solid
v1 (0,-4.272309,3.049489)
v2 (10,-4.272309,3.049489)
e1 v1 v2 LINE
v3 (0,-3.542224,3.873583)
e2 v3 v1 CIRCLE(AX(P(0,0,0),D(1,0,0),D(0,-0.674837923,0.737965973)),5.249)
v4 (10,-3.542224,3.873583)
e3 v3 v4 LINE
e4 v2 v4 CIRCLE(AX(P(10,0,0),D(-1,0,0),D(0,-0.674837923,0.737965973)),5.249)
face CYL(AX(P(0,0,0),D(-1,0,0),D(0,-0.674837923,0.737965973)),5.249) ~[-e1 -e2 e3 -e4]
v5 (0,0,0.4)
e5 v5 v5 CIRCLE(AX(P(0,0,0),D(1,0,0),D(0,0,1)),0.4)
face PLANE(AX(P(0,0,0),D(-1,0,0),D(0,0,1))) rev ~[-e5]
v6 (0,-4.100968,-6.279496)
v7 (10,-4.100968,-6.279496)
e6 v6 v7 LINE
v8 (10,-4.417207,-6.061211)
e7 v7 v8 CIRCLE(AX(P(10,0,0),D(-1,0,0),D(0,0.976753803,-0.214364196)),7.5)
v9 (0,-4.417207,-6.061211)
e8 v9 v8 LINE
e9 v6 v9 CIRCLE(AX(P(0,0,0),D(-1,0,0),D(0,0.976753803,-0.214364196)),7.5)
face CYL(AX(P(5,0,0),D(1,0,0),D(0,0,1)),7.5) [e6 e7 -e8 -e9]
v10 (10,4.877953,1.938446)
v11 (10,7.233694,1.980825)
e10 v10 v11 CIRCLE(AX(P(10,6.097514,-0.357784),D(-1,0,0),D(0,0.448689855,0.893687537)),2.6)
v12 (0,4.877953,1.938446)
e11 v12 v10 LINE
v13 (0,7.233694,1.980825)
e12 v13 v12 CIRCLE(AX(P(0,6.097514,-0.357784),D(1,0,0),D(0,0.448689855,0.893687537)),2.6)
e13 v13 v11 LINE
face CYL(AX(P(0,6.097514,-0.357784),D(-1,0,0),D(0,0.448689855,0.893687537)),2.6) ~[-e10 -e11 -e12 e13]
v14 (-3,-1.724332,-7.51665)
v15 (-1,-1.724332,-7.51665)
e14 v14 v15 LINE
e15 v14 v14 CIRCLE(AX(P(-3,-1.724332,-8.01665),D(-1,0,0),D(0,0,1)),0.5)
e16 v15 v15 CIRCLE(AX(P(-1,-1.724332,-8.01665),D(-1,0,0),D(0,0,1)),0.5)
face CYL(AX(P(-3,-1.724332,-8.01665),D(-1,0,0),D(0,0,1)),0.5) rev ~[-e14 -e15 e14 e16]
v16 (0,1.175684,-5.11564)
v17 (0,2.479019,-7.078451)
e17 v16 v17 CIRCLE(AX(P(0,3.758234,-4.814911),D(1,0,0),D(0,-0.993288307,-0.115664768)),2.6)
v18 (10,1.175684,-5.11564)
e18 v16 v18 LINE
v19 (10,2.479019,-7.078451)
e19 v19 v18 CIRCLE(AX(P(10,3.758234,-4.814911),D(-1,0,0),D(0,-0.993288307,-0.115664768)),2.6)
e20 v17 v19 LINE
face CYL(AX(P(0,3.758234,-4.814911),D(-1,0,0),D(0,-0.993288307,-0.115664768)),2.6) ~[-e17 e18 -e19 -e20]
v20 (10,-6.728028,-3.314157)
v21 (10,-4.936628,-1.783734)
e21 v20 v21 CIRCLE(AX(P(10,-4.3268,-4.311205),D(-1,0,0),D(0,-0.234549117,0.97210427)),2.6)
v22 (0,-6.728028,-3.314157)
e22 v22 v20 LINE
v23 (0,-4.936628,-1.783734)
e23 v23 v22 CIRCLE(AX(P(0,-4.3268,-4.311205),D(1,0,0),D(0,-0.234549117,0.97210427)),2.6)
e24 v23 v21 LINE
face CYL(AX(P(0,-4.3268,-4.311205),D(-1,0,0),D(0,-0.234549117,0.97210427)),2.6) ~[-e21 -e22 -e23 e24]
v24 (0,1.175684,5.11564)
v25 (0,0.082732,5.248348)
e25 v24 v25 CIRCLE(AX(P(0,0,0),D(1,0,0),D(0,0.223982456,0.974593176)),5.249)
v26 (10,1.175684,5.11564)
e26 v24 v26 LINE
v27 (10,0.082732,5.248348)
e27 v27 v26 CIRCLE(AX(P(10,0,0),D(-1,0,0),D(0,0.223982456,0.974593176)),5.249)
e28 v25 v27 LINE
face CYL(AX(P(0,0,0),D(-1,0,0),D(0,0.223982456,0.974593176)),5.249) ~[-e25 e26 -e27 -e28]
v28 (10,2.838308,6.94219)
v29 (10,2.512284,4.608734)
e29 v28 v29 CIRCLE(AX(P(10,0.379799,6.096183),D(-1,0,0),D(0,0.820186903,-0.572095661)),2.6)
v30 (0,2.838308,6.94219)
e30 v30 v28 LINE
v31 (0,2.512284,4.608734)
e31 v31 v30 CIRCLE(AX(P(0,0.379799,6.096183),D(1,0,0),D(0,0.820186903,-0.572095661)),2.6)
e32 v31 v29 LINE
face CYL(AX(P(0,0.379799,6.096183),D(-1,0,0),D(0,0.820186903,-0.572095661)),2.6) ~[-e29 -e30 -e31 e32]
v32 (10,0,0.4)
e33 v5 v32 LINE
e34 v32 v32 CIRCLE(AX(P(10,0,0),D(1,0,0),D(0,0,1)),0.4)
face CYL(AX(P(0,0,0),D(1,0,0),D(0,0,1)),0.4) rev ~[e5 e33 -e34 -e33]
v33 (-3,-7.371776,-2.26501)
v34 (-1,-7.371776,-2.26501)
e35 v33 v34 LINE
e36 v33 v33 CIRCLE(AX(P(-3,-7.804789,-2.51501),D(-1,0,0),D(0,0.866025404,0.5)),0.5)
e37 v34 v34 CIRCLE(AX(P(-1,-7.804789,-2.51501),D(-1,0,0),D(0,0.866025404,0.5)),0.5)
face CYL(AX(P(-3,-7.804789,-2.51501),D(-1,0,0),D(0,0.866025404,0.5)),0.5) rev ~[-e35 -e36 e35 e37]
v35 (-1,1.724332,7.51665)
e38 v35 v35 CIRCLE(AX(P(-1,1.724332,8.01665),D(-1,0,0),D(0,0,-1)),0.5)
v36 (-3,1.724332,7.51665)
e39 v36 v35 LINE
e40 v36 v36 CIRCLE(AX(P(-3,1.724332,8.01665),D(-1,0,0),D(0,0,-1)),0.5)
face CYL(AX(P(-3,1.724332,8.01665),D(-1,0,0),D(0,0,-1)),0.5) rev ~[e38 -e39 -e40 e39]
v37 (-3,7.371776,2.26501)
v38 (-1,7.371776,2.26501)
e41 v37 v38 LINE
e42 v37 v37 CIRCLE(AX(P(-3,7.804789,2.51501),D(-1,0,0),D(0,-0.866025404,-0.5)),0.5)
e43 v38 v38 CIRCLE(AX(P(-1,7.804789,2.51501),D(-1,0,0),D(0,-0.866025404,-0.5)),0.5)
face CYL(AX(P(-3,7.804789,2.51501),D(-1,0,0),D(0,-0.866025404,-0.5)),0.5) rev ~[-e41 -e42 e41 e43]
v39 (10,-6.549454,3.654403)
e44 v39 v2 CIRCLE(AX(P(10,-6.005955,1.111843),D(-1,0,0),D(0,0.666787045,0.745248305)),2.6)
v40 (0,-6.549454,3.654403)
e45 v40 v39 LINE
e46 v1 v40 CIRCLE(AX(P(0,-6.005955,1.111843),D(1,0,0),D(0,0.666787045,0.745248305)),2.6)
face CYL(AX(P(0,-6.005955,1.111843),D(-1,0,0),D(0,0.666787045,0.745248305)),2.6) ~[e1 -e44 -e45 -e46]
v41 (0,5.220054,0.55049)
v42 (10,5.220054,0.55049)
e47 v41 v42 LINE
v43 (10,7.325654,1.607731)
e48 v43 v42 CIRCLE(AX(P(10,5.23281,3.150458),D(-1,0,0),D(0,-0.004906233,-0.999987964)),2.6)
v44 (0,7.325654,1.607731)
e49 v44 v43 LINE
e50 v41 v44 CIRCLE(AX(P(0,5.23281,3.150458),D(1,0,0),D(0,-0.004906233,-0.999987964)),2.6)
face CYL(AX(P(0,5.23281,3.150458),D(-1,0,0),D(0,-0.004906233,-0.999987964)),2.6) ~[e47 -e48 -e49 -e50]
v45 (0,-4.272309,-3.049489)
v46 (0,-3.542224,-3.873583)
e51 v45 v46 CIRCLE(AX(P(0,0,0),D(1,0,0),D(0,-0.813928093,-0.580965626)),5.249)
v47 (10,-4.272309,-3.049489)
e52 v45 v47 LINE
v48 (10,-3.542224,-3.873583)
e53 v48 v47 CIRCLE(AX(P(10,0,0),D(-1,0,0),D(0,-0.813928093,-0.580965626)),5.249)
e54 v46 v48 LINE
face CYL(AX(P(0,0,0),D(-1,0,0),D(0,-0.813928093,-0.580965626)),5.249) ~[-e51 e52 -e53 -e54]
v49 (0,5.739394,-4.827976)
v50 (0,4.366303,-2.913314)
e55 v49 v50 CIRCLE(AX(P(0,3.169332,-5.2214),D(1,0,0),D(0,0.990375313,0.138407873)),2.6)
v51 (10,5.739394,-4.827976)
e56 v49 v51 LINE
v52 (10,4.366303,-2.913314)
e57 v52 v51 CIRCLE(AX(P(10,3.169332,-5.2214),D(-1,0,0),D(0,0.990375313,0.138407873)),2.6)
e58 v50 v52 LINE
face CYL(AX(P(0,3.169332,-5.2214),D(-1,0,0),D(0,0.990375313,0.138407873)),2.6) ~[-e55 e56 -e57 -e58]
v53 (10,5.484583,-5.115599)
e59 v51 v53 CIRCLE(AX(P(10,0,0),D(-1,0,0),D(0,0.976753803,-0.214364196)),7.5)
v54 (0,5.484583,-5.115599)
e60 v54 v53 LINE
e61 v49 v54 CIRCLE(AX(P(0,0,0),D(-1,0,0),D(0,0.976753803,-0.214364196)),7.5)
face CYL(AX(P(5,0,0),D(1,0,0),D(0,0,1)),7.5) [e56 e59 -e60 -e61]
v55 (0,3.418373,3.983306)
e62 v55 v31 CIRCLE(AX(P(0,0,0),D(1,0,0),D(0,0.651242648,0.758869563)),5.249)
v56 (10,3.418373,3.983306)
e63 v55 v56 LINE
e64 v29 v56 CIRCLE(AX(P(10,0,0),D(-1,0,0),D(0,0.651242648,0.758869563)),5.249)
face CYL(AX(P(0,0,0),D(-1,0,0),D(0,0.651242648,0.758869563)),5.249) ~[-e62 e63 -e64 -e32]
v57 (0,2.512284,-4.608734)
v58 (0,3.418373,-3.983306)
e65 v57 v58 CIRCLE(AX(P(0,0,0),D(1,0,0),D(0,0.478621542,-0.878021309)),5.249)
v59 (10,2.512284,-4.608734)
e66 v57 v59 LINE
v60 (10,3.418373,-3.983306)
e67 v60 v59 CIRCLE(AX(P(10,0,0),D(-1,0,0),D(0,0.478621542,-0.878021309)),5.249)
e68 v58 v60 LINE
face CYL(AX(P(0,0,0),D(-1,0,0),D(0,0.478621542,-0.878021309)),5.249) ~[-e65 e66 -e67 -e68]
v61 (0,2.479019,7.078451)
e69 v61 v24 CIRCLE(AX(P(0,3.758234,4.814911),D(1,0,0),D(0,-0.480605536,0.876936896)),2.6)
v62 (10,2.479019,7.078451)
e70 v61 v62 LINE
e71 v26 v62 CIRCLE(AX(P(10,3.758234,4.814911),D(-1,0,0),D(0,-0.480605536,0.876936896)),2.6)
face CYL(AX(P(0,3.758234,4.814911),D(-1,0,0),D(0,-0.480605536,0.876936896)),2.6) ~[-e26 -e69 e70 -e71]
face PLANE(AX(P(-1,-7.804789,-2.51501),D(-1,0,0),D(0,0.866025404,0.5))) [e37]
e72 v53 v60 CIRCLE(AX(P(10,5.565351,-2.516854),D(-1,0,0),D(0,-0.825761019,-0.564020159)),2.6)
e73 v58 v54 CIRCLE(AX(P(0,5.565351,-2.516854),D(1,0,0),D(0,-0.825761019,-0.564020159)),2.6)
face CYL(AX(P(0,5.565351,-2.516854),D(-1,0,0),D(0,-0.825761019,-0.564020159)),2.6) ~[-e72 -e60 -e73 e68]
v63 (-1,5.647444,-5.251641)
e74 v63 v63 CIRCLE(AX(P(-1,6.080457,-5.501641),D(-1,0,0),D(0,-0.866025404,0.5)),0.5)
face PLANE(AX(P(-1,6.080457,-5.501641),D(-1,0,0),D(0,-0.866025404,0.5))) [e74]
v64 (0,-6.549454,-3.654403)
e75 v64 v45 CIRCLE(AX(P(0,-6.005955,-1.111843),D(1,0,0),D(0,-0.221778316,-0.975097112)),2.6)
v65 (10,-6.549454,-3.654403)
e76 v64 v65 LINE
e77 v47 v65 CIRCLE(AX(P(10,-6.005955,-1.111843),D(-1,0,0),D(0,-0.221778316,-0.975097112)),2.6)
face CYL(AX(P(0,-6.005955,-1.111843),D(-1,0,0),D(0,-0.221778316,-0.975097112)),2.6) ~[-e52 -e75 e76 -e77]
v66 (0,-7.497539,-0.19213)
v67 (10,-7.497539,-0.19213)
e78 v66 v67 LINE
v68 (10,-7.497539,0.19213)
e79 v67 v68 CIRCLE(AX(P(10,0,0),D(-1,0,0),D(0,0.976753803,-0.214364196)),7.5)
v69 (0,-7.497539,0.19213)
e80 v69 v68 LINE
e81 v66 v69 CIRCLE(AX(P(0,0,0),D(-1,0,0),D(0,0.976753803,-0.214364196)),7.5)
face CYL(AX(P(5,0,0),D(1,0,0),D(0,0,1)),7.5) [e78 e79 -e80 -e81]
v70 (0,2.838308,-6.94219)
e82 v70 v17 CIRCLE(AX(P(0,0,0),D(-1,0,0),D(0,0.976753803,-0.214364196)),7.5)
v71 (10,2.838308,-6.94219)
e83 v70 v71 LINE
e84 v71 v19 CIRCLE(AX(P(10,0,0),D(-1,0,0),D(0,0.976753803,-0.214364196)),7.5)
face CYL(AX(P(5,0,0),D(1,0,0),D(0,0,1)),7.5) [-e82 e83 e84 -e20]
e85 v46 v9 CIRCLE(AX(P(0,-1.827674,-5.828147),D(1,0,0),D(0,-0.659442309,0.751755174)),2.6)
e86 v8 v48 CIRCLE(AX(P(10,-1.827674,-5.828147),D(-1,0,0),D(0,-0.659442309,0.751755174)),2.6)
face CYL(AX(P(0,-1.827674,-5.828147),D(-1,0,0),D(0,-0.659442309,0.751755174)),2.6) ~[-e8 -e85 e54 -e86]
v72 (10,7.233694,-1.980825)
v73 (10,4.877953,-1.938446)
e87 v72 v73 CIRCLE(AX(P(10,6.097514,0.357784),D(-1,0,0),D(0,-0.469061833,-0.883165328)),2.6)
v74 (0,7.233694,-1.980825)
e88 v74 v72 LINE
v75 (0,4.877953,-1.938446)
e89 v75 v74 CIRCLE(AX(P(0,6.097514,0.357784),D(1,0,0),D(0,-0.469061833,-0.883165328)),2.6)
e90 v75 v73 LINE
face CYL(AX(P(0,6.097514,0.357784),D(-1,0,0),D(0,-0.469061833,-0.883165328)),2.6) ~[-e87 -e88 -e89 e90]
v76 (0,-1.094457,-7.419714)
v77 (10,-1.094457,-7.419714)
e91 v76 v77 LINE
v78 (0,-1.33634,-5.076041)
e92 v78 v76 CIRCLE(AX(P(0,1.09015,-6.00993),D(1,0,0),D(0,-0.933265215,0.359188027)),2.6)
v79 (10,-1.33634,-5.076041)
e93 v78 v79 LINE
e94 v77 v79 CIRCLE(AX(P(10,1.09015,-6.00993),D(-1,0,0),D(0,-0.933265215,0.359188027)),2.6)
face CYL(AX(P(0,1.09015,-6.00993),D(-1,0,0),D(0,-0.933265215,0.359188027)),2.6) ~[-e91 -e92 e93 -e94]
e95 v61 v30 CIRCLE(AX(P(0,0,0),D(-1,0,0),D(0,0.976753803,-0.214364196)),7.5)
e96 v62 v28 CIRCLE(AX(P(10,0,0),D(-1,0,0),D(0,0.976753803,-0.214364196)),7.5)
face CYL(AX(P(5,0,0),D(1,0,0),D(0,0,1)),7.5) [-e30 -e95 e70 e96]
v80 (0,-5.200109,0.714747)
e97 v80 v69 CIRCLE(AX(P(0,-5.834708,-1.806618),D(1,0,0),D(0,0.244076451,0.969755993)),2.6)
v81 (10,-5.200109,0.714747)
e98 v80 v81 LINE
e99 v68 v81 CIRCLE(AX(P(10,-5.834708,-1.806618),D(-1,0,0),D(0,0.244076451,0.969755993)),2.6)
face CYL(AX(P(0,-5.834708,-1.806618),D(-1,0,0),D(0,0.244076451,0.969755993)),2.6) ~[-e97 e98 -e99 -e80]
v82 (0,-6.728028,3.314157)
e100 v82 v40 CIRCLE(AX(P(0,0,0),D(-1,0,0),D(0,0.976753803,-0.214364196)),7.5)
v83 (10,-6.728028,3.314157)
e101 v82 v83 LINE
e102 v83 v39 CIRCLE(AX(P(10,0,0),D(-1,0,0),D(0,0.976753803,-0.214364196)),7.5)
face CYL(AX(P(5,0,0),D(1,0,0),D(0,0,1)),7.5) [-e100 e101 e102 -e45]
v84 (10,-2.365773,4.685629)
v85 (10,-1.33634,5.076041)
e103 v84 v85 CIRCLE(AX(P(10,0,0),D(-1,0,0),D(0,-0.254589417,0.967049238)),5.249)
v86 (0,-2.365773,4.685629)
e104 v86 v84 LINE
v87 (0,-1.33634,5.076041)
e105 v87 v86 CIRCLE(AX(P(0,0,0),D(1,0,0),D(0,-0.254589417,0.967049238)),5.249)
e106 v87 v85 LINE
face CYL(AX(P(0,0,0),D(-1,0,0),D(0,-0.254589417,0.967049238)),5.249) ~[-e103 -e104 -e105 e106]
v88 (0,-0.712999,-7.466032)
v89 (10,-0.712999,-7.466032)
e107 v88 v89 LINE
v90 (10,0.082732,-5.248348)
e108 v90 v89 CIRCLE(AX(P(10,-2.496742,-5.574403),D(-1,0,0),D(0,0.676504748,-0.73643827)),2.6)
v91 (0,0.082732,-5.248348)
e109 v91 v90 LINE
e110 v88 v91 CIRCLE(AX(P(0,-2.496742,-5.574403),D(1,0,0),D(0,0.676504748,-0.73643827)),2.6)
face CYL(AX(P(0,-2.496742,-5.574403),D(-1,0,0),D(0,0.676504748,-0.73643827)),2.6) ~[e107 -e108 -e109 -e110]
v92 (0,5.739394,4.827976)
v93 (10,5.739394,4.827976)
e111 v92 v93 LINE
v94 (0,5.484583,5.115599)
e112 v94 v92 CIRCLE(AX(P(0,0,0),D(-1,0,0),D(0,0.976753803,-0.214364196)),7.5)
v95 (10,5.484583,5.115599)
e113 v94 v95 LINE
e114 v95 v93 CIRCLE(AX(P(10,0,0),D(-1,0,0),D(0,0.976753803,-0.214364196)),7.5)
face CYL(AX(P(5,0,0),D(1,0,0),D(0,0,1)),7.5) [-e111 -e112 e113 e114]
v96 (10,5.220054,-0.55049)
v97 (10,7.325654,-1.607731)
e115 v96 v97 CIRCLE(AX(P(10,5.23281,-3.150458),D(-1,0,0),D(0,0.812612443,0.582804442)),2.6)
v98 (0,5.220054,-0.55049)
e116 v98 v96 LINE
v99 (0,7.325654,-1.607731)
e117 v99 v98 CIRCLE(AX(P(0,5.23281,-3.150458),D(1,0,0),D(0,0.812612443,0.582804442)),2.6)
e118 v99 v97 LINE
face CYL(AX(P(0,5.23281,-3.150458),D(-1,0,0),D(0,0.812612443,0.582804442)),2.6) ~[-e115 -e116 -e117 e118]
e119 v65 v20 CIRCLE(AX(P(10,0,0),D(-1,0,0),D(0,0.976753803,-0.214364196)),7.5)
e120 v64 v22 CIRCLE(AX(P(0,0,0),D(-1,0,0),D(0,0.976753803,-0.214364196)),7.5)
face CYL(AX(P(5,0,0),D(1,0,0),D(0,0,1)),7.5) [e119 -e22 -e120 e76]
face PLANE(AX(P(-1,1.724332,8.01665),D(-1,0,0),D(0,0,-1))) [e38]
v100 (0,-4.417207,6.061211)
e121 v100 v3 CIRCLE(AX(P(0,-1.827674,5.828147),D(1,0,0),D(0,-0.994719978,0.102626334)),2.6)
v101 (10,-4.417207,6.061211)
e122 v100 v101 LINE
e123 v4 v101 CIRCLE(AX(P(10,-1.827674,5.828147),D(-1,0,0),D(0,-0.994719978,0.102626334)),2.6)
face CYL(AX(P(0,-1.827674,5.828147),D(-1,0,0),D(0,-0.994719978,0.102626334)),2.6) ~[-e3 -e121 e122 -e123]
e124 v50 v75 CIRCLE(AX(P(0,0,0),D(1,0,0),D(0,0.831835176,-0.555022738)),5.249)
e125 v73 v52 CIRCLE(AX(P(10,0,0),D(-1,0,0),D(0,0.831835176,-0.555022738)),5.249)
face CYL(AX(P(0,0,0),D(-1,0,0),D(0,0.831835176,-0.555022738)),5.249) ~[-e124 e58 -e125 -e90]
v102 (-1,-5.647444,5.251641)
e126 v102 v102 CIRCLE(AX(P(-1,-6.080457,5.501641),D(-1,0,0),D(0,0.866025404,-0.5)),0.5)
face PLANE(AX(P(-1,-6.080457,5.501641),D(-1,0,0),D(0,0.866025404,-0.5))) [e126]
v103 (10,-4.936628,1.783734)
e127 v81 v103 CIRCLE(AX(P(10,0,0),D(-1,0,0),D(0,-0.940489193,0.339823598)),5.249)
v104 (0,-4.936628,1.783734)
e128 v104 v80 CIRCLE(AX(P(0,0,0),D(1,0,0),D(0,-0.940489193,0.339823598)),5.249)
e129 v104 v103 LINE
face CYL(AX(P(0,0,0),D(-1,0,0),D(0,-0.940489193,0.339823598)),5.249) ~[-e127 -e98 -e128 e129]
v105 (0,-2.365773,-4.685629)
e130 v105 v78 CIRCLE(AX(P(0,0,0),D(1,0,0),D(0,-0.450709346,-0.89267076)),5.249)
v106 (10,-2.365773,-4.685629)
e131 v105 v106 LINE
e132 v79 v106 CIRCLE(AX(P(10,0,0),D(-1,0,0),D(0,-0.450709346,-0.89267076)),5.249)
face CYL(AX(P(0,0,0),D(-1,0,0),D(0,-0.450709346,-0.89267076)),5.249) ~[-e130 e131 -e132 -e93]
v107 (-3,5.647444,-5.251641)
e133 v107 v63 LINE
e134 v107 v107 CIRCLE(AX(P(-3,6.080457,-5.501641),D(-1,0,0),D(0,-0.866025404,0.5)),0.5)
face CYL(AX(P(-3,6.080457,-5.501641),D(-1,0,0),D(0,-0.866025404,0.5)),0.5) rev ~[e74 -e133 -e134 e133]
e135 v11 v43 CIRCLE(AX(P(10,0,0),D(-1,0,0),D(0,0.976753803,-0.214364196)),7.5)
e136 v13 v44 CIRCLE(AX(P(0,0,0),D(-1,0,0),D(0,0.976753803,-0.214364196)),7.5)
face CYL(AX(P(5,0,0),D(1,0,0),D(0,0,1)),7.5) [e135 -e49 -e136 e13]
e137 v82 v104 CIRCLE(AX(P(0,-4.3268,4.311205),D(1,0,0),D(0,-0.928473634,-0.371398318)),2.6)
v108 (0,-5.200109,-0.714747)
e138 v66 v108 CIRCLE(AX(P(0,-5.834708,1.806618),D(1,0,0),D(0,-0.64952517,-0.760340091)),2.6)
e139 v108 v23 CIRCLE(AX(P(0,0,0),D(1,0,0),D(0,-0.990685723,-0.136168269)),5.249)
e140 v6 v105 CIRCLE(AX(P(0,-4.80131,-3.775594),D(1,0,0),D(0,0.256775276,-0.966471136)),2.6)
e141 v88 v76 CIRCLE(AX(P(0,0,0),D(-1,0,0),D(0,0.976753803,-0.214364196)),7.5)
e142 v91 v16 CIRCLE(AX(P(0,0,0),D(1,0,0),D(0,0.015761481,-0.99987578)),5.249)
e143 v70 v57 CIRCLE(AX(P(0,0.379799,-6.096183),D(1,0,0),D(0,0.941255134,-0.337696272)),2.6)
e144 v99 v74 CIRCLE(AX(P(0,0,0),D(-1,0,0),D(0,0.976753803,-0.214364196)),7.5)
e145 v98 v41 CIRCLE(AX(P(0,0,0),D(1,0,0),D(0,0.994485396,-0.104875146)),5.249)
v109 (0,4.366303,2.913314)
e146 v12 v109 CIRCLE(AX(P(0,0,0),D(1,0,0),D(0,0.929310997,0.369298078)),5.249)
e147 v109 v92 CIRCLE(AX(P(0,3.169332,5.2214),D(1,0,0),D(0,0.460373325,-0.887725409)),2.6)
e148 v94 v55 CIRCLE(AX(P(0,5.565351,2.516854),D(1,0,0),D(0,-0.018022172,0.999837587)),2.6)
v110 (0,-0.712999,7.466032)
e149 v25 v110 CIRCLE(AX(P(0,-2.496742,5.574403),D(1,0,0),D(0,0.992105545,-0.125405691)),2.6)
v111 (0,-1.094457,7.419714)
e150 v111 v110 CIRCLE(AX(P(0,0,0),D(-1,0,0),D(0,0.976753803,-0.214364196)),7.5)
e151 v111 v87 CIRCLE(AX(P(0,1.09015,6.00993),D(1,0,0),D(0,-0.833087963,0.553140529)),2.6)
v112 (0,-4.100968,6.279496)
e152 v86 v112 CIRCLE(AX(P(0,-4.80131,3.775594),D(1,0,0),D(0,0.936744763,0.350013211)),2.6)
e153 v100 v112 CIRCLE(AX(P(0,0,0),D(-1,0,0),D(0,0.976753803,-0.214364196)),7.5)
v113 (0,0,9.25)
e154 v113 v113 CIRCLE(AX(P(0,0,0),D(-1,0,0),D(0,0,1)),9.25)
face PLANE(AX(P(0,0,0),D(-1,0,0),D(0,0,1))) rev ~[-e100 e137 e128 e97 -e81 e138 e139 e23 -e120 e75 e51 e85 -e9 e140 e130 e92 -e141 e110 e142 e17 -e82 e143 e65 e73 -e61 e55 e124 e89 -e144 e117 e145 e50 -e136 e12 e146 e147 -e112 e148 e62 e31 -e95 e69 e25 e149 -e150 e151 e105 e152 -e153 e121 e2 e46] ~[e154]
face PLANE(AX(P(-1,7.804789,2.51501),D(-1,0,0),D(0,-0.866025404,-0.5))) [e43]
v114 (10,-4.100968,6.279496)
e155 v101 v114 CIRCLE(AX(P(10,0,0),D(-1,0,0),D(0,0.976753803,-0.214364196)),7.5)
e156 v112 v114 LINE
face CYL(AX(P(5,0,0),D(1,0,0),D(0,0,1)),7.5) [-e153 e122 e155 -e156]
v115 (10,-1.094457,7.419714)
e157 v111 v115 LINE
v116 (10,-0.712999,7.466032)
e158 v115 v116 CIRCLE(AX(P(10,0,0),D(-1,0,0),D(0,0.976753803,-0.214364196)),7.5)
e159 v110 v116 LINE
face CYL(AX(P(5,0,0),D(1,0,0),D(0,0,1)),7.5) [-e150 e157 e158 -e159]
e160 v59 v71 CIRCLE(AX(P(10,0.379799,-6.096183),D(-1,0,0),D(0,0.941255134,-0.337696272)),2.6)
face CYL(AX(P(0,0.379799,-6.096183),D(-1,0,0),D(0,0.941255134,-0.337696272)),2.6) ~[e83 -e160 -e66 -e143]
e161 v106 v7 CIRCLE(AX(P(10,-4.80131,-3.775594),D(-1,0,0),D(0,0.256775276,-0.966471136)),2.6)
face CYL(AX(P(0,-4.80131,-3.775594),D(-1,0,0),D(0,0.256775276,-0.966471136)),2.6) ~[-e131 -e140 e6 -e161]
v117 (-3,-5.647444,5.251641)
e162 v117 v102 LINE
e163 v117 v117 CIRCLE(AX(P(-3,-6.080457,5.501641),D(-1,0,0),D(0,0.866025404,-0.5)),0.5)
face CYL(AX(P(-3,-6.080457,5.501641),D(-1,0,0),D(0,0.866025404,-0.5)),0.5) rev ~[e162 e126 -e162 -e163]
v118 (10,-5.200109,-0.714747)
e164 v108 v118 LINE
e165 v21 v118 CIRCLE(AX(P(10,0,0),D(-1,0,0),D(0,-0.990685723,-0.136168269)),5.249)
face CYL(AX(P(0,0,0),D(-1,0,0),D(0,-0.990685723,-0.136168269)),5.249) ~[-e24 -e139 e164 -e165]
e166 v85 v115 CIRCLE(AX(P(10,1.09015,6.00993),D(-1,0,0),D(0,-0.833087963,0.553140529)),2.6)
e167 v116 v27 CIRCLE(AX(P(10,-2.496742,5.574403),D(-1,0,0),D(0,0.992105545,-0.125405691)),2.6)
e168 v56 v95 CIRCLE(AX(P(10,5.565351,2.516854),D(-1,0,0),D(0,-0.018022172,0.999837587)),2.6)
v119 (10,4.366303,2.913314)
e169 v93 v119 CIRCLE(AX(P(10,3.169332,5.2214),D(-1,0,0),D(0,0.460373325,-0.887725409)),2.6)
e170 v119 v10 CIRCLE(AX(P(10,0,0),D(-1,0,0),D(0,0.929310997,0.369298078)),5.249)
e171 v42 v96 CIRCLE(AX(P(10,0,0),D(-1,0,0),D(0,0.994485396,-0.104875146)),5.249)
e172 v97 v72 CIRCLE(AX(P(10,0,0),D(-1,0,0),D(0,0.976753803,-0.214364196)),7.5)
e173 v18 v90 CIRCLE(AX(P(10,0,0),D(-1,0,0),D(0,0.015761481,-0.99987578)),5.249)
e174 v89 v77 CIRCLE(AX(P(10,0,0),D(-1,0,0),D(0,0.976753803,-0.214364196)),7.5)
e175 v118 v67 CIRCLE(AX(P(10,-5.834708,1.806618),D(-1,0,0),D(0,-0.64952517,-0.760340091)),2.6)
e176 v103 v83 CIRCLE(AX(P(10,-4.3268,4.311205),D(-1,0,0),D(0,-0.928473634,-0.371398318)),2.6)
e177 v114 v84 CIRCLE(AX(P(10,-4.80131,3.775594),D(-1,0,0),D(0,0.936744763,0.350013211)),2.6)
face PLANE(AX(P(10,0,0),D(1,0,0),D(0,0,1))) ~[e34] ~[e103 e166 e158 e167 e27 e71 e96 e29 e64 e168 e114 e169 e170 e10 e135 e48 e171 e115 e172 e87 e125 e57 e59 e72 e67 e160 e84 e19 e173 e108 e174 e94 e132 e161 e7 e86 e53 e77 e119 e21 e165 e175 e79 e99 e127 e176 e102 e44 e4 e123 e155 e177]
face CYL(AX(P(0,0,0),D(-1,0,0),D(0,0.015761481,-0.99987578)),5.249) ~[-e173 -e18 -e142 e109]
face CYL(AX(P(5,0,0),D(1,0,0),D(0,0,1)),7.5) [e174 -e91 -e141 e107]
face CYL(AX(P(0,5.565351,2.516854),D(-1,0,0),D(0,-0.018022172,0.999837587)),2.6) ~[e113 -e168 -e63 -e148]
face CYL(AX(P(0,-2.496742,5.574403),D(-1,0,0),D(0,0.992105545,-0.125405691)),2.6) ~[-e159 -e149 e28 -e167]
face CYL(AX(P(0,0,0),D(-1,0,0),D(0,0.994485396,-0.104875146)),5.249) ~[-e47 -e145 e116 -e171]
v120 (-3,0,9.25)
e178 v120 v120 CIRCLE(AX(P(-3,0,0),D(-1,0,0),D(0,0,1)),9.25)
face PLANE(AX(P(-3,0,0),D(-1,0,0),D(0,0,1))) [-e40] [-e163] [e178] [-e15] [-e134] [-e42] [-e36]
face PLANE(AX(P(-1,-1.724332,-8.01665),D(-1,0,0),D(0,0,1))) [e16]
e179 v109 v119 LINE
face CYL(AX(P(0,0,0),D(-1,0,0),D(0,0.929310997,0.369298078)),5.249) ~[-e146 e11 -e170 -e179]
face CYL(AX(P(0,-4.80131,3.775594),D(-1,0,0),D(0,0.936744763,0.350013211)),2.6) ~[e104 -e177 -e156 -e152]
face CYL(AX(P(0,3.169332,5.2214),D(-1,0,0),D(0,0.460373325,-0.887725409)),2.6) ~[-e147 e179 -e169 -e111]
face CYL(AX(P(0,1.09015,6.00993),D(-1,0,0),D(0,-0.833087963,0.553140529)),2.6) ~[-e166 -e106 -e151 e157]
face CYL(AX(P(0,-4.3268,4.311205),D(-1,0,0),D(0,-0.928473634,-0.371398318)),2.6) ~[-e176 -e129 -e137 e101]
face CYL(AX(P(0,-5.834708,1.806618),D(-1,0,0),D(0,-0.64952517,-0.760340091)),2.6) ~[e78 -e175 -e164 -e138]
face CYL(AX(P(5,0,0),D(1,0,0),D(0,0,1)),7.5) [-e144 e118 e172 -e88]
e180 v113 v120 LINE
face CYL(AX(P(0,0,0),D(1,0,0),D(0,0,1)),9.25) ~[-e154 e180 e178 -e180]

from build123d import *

# Parameters (mm, degrees)
BASPROSKE_W         = 10
BASPROSKE_H         = 7.5
TOOTHCUT_DEPTH      = 15.577379737
TEETHCUTS_COUNT     = 13
TEETHCUTS_ANGLE     = 332.307692308
BORSKE_R            = 0.4
BORE_DEPTH          = 50.0000508
SKETCH1_R           = 9.25
BOSS_EXTRUDE1_DEPTH = 3
SKETCH6_R           = 0.5
CUT_EXTRUDE1_DEPTH  = 2
CIRPATTERN1_COUNT   = 6


with BuildPart() as part:
    # BasProSke → Base-Revolve (revolve)
    with BuildSketch(Plane(origin=(0, 0, 0), x_dir=(1, 0, 0), z_dir=(0, 1, 0)), mode=Mode.PRIVATE) as base_revolve_sk:
        with Locations((5, 3.75)):
            Rectangle(BASPROSKE_W, BASPROSKE_H)
    revolve(base_revolve_sk.sketch.rotate(Axis((-10, 0, 0), (1, 0, 0)), 180), axis=Axis((-10, 0, 0), (1, 0, 0)))

    # TooCutSke → ToothCut (cut, through all)
    with BuildSketch(Plane(origin=(0, 0, 0), x_dir=(0, 0, -1), z_dir=(1, 0, 0))):
        with BuildLine():
            ThreePointArc((0.550489643, 5.220053846), (0, 5.249), (-0.550489643, 5.220053846))
            ThreePointArc((-0.550489643, 5.220053846), (-0.834571714, 6.414617604), (-1.635166801, 7.345602405))
            ThreePointArc((-1.635166801, 7.345602405), (0, 7.5254), (1.635166801, 7.345602405))
            ThreePointArc((1.635166801, 7.345602405), (0.834571714, 6.414617604), (0.550489643, 5.220053846))
        make_face()
    toothcut = extrude(amount=TOOTHCUT_DEPTH, mode=Mode.SUBTRACT)

    # TeethCuts: ToothCut ×13 about axis
    teethcuts_axis = Axis((-10, 0, 0), (1, 0, 0))
    for i in range(1, TEETHCUTS_COUNT):
        add(toothcut.rotate(teethcuts_axis, i * TEETHCUTS_ANGLE / (TEETHCUTS_COUNT - 1)), mode=Mode.SUBTRACT)

    # BorSke → Bore (cut, symmetric)
    with BuildSketch(Plane(origin=(0, 0, 0), x_dir=(0, 0, -1), z_dir=(1, 0, 0))):
        with Locations(Location((0, 0, 0), (0, 0, 180))):
            Circle(BORSKE_R)
    extrude(amount=BORE_DEPTH, both=True, mode=Mode.SUBTRACT)

    # Sketch1 → Boss-Extrude1 (add)
    with BuildSketch(Plane.ZY):
        Circle(SKETCH1_R)
    extrude(amount=BOSS_EXTRUDE1_DEPTH)

    # Sketch6 → Cut-Extrude1 (cut)
    with BuildSketch(Plane.ZY.offset(3)):
        with Locations((-8.01665008, -1.724332186)):
            Circle(SKETCH6_R)
    cut_extrude1 = extrude(amount=-CUT_EXTRUDE1_DEPTH, mode=Mode.SUBTRACT)

    # CirPattern1: Cut-Extrude1 ×6 about axis
    cirpattern1_axis = Axis((0, 0, 0), (1, 0, 0))
    for i in range(1, CIRPATTERN1_COUNT):
        add(cut_extrude1.rotate(cirpattern1_axis, i * 360 / CIRPATTERN1_COUNT), mode=Mode.SUBTRACT)


solid = part.part
